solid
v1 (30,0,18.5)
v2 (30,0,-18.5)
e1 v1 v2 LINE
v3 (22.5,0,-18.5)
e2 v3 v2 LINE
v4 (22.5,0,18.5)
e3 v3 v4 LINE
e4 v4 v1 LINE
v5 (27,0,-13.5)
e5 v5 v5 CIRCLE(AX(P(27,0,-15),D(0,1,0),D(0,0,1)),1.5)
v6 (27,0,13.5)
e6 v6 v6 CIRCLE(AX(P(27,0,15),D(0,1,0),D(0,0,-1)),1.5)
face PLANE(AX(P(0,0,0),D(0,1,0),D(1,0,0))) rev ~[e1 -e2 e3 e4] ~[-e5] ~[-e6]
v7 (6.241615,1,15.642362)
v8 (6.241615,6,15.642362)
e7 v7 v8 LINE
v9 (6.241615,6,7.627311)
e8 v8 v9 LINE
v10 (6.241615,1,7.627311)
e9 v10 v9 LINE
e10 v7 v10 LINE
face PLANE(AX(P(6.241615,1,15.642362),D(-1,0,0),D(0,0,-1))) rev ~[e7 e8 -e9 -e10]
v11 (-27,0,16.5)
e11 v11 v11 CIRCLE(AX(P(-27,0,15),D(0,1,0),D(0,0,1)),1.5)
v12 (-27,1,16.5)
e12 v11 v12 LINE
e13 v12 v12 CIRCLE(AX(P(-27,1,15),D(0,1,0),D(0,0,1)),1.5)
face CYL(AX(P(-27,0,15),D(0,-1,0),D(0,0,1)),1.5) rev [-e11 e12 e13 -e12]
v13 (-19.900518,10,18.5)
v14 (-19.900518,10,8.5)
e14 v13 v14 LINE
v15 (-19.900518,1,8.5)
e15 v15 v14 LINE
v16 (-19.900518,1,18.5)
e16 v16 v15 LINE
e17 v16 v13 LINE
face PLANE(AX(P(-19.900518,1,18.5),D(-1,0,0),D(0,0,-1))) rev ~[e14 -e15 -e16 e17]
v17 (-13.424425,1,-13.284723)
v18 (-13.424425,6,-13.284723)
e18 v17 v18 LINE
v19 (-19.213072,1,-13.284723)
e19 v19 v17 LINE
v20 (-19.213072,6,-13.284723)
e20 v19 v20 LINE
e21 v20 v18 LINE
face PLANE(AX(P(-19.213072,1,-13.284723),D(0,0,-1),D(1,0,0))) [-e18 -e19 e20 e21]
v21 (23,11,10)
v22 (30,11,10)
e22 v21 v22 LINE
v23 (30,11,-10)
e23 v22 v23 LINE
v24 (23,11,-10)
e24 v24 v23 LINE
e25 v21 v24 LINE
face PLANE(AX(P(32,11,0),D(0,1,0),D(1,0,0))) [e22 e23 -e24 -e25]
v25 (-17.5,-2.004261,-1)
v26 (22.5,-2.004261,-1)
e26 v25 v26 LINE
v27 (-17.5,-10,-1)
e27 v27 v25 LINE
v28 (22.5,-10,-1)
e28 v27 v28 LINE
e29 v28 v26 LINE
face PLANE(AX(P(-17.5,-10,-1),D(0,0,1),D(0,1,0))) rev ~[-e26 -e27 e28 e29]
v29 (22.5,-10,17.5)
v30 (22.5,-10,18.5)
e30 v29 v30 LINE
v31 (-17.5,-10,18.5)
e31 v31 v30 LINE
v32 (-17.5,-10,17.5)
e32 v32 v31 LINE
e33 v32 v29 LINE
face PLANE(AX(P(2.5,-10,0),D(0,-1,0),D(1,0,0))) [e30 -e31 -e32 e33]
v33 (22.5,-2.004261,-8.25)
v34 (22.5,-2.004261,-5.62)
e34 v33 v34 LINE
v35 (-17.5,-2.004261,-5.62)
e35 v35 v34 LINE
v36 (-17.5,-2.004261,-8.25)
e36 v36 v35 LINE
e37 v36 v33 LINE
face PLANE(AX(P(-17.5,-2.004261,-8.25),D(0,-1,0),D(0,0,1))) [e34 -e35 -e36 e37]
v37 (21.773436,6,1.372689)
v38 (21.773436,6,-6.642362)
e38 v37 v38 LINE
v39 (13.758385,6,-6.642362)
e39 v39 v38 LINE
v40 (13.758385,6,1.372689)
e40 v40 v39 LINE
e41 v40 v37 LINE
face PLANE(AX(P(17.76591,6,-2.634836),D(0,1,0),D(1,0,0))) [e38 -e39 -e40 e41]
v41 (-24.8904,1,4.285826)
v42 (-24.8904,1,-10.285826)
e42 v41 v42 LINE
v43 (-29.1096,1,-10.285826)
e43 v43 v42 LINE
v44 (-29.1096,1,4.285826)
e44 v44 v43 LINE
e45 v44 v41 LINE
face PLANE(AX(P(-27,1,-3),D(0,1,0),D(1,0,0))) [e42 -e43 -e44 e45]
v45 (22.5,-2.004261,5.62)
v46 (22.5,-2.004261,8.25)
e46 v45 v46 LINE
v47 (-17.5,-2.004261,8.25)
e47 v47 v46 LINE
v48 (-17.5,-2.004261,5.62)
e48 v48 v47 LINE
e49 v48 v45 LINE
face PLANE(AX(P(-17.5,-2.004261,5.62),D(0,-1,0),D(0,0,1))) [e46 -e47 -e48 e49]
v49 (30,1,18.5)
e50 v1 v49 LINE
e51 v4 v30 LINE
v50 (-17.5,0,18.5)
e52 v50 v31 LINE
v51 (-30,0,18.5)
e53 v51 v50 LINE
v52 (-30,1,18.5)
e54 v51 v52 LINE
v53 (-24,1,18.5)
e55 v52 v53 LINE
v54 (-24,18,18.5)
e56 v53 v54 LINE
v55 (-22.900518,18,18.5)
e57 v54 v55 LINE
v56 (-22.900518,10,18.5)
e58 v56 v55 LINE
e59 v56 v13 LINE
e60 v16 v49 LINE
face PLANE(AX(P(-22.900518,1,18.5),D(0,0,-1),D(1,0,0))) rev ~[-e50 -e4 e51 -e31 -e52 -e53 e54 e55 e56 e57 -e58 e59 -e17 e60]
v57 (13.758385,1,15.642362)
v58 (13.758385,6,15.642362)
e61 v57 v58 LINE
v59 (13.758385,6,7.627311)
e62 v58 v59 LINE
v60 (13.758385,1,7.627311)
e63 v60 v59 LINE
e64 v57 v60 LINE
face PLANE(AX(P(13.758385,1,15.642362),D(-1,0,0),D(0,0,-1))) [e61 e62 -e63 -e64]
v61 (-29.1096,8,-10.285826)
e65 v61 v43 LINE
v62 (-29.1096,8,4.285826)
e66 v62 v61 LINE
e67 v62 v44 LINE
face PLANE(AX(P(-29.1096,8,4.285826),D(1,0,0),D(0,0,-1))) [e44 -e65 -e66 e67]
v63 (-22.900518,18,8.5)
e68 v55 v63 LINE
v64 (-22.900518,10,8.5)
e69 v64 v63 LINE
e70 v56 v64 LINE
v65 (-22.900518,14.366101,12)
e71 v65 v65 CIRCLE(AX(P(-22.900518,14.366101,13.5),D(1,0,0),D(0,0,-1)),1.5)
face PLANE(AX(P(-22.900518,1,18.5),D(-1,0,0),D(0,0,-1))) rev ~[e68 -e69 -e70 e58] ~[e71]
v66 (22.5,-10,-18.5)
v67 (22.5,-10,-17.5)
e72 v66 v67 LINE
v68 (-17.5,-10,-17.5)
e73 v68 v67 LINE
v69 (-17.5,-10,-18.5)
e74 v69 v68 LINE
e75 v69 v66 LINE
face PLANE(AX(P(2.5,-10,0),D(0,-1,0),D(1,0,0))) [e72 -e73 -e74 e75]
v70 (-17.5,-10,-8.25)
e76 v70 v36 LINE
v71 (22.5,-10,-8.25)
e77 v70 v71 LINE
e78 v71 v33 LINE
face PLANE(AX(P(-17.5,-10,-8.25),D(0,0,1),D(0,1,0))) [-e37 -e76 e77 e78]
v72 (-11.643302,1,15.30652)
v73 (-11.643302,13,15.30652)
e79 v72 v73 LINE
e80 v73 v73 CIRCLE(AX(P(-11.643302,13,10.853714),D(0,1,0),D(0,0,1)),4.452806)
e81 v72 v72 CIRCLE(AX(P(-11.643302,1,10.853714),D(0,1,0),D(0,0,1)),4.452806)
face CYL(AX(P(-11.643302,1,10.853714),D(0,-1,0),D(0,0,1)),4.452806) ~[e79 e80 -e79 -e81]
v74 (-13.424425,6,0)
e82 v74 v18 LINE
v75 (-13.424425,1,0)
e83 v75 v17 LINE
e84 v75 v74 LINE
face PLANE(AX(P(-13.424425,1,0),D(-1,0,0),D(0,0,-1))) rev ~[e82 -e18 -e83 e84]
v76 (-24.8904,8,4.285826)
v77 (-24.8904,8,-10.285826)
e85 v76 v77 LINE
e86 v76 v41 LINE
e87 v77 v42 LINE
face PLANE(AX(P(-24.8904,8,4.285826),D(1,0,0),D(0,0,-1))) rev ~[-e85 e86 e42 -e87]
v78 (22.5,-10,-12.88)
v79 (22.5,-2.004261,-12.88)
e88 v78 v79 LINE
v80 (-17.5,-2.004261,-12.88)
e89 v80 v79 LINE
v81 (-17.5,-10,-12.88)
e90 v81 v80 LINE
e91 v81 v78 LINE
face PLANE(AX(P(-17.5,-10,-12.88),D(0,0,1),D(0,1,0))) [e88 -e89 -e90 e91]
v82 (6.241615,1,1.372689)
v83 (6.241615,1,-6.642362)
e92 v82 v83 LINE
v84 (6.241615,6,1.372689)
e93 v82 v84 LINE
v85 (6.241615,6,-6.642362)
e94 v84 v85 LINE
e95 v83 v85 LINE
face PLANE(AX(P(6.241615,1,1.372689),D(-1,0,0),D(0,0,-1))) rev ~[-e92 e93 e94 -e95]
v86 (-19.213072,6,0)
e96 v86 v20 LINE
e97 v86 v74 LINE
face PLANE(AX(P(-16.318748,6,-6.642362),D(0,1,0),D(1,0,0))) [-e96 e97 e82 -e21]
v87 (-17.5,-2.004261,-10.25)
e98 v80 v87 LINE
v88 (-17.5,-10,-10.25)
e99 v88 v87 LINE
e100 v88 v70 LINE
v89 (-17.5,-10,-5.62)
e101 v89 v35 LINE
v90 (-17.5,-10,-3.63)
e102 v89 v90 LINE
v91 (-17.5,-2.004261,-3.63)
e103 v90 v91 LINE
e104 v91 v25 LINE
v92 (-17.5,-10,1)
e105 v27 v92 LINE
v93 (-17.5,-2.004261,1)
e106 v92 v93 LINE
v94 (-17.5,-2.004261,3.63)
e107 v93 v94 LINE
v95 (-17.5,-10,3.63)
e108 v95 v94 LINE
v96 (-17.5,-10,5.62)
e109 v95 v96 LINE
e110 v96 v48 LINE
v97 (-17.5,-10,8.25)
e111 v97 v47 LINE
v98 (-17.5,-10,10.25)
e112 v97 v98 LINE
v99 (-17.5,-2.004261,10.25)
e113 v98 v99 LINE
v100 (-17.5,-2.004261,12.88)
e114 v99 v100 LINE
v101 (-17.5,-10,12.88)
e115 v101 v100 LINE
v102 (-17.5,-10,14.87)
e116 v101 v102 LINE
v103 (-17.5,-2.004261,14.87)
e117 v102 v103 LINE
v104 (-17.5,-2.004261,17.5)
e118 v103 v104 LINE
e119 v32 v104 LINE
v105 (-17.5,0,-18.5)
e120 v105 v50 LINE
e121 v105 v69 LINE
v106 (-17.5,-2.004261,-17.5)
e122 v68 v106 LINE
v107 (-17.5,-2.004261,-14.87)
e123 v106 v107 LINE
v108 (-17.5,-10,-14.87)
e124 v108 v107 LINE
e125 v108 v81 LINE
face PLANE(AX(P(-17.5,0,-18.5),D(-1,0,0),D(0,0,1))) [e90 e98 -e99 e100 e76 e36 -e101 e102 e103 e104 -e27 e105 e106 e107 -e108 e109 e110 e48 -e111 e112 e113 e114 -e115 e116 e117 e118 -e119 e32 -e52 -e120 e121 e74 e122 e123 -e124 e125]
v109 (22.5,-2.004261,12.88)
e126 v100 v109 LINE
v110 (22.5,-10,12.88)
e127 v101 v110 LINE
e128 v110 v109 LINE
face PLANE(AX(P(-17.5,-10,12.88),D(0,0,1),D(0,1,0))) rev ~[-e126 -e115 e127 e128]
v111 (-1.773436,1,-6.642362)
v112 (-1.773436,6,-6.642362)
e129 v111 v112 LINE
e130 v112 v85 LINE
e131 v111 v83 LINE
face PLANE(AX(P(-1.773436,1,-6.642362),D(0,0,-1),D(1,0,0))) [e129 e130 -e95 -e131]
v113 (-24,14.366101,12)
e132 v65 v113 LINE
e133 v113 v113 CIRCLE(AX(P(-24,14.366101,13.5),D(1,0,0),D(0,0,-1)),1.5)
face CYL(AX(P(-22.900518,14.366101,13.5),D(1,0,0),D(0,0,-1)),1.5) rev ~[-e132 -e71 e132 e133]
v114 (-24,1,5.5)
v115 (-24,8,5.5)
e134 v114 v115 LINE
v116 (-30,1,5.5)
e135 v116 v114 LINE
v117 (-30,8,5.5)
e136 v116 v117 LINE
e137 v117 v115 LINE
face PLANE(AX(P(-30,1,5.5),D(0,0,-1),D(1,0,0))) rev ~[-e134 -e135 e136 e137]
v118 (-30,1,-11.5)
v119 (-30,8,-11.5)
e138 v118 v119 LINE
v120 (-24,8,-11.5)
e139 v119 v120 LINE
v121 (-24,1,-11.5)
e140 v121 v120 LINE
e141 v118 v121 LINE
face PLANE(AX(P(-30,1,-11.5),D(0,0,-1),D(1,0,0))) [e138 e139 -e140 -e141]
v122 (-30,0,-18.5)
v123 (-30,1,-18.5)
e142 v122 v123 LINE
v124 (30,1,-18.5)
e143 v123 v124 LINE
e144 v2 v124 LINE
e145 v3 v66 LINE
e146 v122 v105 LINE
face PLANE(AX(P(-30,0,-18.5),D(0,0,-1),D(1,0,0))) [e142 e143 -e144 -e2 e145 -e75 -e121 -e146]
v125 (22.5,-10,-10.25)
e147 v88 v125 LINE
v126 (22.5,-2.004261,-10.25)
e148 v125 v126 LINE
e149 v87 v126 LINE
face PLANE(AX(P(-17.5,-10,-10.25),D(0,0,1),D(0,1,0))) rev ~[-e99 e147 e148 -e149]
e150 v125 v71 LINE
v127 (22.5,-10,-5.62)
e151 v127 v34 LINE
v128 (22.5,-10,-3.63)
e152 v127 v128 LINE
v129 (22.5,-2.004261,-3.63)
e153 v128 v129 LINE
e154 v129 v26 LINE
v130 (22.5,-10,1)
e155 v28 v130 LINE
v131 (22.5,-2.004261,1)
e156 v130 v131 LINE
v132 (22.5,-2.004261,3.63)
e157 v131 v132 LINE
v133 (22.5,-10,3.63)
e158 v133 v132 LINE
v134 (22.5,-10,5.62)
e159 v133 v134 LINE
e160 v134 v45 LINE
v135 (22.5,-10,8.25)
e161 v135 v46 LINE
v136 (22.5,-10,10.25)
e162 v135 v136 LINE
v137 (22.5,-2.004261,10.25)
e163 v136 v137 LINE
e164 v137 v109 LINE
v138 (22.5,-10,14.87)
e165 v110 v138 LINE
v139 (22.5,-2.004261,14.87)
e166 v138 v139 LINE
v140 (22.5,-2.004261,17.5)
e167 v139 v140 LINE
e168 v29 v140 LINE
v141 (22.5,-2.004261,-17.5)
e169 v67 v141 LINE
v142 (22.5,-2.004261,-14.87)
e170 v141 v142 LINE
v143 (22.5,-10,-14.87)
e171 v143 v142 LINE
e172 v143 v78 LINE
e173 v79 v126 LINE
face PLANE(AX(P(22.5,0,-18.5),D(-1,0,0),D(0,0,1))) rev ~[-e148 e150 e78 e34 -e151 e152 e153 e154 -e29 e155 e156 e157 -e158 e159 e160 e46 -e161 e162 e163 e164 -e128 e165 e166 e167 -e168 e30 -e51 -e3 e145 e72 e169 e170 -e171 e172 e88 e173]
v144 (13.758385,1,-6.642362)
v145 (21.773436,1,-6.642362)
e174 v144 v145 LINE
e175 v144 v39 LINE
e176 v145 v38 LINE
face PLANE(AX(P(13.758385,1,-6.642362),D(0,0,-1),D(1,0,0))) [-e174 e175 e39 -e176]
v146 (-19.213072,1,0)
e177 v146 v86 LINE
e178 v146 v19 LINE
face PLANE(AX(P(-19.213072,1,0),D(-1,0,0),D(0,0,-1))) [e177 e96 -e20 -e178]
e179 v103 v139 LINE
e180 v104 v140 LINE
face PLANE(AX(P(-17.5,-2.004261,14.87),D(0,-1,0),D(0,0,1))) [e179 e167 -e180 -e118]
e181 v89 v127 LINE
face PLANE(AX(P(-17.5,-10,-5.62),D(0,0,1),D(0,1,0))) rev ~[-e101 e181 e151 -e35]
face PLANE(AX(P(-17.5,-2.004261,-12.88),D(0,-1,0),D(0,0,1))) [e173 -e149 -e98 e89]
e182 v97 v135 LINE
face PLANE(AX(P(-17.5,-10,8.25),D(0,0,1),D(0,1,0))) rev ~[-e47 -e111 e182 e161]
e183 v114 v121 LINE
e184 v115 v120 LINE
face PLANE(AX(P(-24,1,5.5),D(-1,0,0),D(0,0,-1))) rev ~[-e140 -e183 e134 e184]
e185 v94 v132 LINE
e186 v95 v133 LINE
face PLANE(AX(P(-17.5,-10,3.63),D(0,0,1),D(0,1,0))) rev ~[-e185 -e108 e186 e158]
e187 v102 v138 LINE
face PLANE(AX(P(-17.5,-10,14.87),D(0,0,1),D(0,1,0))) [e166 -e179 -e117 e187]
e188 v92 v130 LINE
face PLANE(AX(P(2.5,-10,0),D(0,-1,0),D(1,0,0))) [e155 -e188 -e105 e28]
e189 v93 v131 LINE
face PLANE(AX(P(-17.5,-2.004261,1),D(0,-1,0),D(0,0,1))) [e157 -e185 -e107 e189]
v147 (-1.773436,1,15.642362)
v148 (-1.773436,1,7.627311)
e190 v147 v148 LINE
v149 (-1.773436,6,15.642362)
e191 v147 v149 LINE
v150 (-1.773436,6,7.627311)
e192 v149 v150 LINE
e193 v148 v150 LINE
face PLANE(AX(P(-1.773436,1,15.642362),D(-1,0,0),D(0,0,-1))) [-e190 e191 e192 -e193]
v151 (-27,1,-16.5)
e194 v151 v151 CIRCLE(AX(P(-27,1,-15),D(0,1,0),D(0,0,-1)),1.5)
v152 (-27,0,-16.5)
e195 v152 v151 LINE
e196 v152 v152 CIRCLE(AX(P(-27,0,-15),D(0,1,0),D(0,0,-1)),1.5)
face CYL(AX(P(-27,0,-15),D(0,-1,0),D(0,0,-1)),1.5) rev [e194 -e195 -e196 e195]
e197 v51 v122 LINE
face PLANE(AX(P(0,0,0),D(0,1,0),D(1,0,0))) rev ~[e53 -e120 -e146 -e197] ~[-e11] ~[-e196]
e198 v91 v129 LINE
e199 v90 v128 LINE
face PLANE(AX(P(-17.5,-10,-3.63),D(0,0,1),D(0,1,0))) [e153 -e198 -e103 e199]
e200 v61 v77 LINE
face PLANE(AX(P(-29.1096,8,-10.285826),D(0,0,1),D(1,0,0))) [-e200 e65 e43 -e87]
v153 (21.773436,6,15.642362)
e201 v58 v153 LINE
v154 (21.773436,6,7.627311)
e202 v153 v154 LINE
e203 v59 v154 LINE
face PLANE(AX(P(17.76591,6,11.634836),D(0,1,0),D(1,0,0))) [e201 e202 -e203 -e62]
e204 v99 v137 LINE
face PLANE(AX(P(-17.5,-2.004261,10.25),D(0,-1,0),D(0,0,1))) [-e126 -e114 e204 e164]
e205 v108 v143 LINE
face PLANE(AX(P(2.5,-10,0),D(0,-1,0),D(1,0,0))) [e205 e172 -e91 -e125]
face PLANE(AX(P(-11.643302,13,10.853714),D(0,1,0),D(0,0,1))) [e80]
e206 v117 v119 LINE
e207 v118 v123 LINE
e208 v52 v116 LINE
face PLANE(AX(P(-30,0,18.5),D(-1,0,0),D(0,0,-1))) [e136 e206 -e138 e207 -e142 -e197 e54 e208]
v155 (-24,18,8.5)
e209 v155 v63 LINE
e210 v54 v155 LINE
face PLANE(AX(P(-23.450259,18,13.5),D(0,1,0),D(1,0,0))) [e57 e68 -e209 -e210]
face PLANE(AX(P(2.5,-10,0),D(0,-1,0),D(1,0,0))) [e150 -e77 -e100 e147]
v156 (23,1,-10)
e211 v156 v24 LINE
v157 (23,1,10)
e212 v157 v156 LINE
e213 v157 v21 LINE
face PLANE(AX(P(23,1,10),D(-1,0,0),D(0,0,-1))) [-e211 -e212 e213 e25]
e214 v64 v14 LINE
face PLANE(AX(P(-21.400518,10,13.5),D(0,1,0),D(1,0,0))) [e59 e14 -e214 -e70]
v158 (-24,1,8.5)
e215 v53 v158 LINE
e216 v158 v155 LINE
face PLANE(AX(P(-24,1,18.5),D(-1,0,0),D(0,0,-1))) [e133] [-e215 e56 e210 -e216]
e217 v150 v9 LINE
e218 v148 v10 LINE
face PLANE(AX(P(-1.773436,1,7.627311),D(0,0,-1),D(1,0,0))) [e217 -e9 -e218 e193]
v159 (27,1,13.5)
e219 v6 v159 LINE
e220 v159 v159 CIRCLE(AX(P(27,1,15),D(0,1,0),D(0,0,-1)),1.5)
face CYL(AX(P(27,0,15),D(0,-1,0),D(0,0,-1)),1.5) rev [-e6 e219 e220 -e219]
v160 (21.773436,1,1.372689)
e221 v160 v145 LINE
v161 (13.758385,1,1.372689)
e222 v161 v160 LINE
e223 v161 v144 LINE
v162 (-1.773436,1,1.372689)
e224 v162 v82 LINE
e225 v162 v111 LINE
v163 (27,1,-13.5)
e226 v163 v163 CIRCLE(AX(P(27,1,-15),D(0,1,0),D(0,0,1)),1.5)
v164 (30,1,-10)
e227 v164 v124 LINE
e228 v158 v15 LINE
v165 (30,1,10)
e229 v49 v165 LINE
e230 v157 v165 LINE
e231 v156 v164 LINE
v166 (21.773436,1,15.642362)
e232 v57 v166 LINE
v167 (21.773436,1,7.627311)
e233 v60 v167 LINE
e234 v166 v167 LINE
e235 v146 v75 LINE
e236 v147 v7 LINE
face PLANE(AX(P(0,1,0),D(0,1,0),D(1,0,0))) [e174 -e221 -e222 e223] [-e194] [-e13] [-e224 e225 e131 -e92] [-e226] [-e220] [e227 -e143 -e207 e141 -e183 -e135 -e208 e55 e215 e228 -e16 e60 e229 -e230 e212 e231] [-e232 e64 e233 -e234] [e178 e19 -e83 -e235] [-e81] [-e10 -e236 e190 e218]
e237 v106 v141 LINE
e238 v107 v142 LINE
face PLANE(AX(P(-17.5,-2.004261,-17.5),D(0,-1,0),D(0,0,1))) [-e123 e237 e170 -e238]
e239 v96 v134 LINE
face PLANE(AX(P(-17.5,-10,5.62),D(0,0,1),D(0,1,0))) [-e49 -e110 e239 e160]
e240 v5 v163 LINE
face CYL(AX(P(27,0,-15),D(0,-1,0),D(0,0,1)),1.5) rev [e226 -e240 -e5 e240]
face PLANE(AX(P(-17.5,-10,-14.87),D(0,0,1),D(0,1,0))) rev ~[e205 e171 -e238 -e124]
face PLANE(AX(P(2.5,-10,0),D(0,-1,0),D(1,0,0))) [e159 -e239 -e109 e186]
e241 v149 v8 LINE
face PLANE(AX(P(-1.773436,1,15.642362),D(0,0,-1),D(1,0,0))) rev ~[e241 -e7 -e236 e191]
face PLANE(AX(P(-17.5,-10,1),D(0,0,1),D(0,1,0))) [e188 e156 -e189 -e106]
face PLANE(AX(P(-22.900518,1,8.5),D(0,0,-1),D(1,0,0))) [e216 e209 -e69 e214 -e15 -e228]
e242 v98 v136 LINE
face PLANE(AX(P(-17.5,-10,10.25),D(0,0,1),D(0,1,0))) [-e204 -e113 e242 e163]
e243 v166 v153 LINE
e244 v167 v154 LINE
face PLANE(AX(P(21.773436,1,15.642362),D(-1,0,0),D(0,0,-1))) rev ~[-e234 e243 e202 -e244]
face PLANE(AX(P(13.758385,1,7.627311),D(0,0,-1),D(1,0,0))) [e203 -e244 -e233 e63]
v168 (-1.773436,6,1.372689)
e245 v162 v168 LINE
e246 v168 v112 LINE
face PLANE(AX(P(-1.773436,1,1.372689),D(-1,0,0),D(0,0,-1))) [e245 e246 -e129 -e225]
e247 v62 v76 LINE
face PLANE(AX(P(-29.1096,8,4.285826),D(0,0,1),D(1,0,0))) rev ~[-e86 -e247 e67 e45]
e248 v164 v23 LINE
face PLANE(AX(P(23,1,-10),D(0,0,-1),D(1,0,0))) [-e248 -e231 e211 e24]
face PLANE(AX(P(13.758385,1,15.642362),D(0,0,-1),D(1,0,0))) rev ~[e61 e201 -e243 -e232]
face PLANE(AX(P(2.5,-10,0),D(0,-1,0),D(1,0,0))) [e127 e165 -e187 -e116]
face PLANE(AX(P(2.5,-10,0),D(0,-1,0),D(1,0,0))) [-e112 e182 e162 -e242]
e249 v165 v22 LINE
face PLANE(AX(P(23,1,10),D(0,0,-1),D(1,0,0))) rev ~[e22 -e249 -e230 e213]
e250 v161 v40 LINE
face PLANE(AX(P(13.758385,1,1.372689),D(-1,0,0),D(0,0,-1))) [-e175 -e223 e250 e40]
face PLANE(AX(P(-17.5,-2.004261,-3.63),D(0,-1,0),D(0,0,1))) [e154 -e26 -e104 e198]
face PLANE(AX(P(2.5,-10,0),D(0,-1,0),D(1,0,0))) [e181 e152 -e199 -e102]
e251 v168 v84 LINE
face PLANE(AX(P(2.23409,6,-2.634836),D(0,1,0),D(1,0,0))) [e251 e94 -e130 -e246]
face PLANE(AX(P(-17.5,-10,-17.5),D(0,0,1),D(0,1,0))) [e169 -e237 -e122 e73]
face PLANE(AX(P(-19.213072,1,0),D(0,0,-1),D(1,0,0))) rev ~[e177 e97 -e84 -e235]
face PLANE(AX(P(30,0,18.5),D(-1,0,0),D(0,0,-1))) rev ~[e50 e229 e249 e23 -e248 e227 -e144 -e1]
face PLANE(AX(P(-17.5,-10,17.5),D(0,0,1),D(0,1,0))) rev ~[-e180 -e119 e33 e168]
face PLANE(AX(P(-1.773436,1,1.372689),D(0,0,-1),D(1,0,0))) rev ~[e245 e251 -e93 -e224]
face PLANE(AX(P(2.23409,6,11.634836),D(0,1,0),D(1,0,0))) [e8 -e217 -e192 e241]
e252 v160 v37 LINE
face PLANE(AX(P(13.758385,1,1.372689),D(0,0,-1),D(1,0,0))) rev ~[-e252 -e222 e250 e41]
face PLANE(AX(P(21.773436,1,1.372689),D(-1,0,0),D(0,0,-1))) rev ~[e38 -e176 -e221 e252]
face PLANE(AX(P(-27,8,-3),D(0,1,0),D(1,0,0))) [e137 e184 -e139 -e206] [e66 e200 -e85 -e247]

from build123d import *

# Parameters (mm, degrees)
SKETCH_1_W          = 60
SKETCH_1_H          = 37
SKETCH_1_R          = 1.5
EXTRUDE_1_DEPTH     = 1
SKETCH_2_W          = 18
SKETCH_2_H          = 20
EXTRUDE_2_DEPTH     = 10
SKETCH_3_R          = 1
CUT_EXTRUDE_1_DEPTH = 1
SKETCH_4_W          = 1.889309118
SKETCH_4_H          = 3.828785833
CUT_EXTRUDE_2_DEPTH = 5
SKETCH_5_W          = 6
SKETCH_5_H          = 17
EXTRUDE_3_DEPTH     = 7
SKETCH_6_W          = 4.219200818
SKETCH_6_H          = 14.571651166
CUT_EXTRUDE_3_DEPTH = 7
SKETCH_7_W          = 1.099481737
SKETCH_7_H          = 10
EXTRUDE_4_DEPTH     = 17
SKETCH_8_W          = 3
SKETCH_8_H          = 10
EXTRUDE_5_DEPTH     = 9
SKETCH_9_R          = 1.5
CUT_EXTRUDE_4_DEPTH = 9
SKETCH_10_W         = 8.015050441
SKETCH_10_H         = 8.015050442
SKETCH_10_W_2       = 5.788647541
SKETCH_10_H_2       = 13.284723362
EXTRUDE_7_DEPTH     = 5
SKETCH_11_R         = 4.452805801
EXTRUDE_8_DEPTH     = 12
SKETCH_12_W         = 40
SKETCH_12_H         = 37
EXTRUDE_9_DEPTH     = 10
SKETCH_13_W         = 2.63
SKETCH_13_H         = 7.995738943
CUT_EXTRUDE_5_DEPTH = 64.941379403
SKETCH_14_W         = 11
SKETCH_14_H         = 20
CUT_EXTRUDE_6_DEPTH = 49.448426187


with BuildPart() as part:
    # 草图1 → 凸台-拉伸1 (new body)
    with BuildSketch(Plane(origin=(0, 0, 0), x_dir=(1, 0, 0), z_dir=(0, 1, 0))):
        Rectangle(SKETCH_1_W, SKETCH_1_H)
        with Locations(Location((27, 15, 0), (0, 0, 270))):
            Circle(SKETCH_1_R, mode=Mode.SUBTRACT)
        with Locations(Location((27, -15, 0), (0, 0, 90))):
            Circle(SKETCH_1_R, mode=Mode.SUBTRACT)
        with Locations(Location((-27, -15, 0), (0, 0, 270))):
            Circle(SKETCH_1_R, mode=Mode.SUBTRACT)
        with Locations(Location((-27, 15, 0), (0, 0, 90))):
            Circle(SKETCH_1_R, mode=Mode.SUBTRACT)
    extrude(amount=EXTRUDE_1_DEPTH)

    # 草图2 → 凸台-拉伸2 (add)
    with BuildSketch(Plane(origin=(0, 1, 0), x_dir=(1, 0, 0), z_dir=(0, 1, 0))):
        with Locations((32, 0)):
            Rectangle(SKETCH_2_W, SKETCH_2_H)
    extrude(amount=EXTRUDE_2_DEPTH)

    # 草图3 → 切除-拉伸1 (cut)
    with BuildSketch(Plane(origin=(0, 11, 0), x_dir=(1, 0, 0), z_dir=(0, 1, 0))):
        with Locations(Location((38.562083072, 7.5, 0), (0, 0, 270))):
            Circle(SKETCH_3_R)
        with Locations(Location((38.562083072, 2.5, 0), (0, 0, 270))):
            Circle(SKETCH_3_R)
        with Locations(Location((38.562083072, -7.5, 0), (0, 0, 90))):
            Circle(SKETCH_3_R)
        with Locations(Location((38.562083072, -2.5, 0), (0, 0, 90))):
            Circle(SKETCH_3_R)
    extrude(amount=-CUT_EXTRUDE_1_DEPTH, mode=Mode.SUBTRACT)

    # 草图4 → 切除-拉伸2 (cut)
    with BuildSketch(Plane(origin=(41, 0, 0), x_dir=(0, 0, -1), z_dir=(1, 0, 0))):
        with Locations((-2.5, 3.73063685)):
            Rectangle(SKETCH_4_W, SKETCH_4_H)
        with Locations((-7.5, 3.73063685)):
            Rectangle(SKETCH_4_W, SKETCH_4_H)
        with Locations((2.5, 3.73063685)):
            Rectangle(SKETCH_4_W, SKETCH_4_H)
        with Locations((7.5, 3.73063685)):
            Rectangle(SKETCH_4_W, SKETCH_4_H)
    extrude(amount=-CUT_EXTRUDE_2_DEPTH, mode=Mode.SUBTRACT)

    # 草图5 → 凸台-拉伸3 (add)
    with BuildSketch(Plane(origin=(0, 1, 0), x_dir=(1, 0, 0), z_dir=(0, 1, 0))):
        with Locations((-27, 3)):
            Rectangle(SKETCH_5_W, SKETCH_5_H)
    extrude(amount=EXTRUDE_3_DEPTH)

    # 草图6 → 切除-拉伸3 (cut)
    with BuildSketch(Plane(origin=(0, 8, 0), x_dir=(1, 0, 0), z_dir=(0, 1, 0))):
        with Locations((-27, 3)):
            Rectangle(SKETCH_6_W, SKETCH_6_H)
    extrude(amount=-CUT_EXTRUDE_3_DEPTH, mode=Mode.SUBTRACT)

    # 草图7 → 凸台-拉伸4 (add)
    with BuildSketch(Plane(origin=(0, 1, 0), x_dir=(1, 0, 0), z_dir=(0, 1, 0))):
        with Locations((-23.450259132, -13.5)):
            Rectangle(SKETCH_7_W, SKETCH_7_H)
    extrude(amount=EXTRUDE_4_DEPTH)

    # 草图8 → 凸台-拉伸5 (add)
    with BuildSketch(Plane(origin=(0, 1, 0), x_dir=(1, 0, 0), z_dir=(0, 1, 0))):
        with Locations((-21.400518263, -13.5)):
            Rectangle(SKETCH_8_W, SKETCH_8_H)
    extrude(amount=EXTRUDE_5_DEPTH)

    # 草图9 → 切除-拉伸4 (cut)
    with BuildSketch(Plane(origin=(-22.900518263, 0, 0), x_dir=(0, 0, -1), z_dir=(1, 0, 0))):
        with Locations((-13.5, 14.366101357)):
            Circle(SKETCH_9_R)
    extrude(amount=-CUT_EXTRUDE_4_DEPTH, mode=Mode.SUBTRACT)

    # 草图10 → 凸台-拉伸7 (add)
    with BuildSketch(Plane(origin=(0, 1, 0), x_dir=(1, 0, 0), z_dir=(0, 1, 0))):
        with Locations((2.23408969, 2.63483646)):
            Rectangle(SKETCH_10_W, SKETCH_10_H)
        with Locations((-16.318748425, 6.642361681)):
            Rectangle(SKETCH_10_W_2, SKETCH_10_H_2)
        with Locations((17.76591031, 2.63483646)):
            Rectangle(SKETCH_10_W, SKETCH_10_H)
        with Locations((17.76591031, -11.63483646)):
            Rectangle(SKETCH_10_W, SKETCH_10_H)
        with Locations((2.23408969, -11.63483646)):
            Rectangle(SKETCH_10_W, SKETCH_10_H)
    extrude(amount=EXTRUDE_7_DEPTH)

    # 草图11 → 凸台-拉伸8 (add)
    with BuildSketch(Plane(origin=(0, 1, 0), x_dir=(1, 0, 0), z_dir=(0, 1, 0))):
        with Locations(Location((-11.643302333, -10.85371414, 0), (0, 0, 270))):
            Circle(SKETCH_11_R)
    extrude(amount=EXTRUDE_8_DEPTH)

    # 草图12 → 凸台-拉伸9 (add)
    with BuildSketch(Plane.XZ):
        with Locations((2.5, 0)):
            Rectangle(SKETCH_12_W, SKETCH_12_H)
    extrude(amount=EXTRUDE_9_DEPTH)

    # 草图13 → 切除-拉伸5 (cut, through all)
    with BuildSketch(Plane.ZY.offset(17.5)):
        with Locations((-16.185, -6.002130529)):
            Rectangle(SKETCH_13_W, SKETCH_13_H)
        with Locations((-11.565, -6.002130529)):
            Rectangle(SKETCH_13_W, SKETCH_13_H)
        with Locations((-6.935, -6.002130529)):
            Rectangle(SKETCH_13_W, SKETCH_13_H)
        with Locations((-2.315, -6.002130529)):
            Rectangle(SKETCH_13_W, SKETCH_13_H)
        with Locations((2.315, -6.002130529)):
            Rectangle(SKETCH_13_W, SKETCH_13_H)
        with Locations((6.935, -6.002130529)):
            Rectangle(SKETCH_13_W, SKETCH_13_H)
        with Locations((11.565, -6.002130529)):
            Rectangle(SKETCH_13_W, SKETCH_13_H)
        with Locations((16.185, -6.002130529)):
            Rectangle(SKETCH_13_W, SKETCH_13_H)
    extrude(amount=-CUT_EXTRUDE_5_DEPTH, mode=Mode.SUBTRACT)

    # 草图14 → 切除-拉伸6 (cut, through all)
    with BuildSketch(Plane.XZ):
        with Locations((35.5, 0)):
            Rectangle(SKETCH_14_W, SKETCH_14_H)
    extrude(amount=-CUT_EXTRUDE_6_DEPTH, mode=Mode.SUBTRACT)


solid = part.part
